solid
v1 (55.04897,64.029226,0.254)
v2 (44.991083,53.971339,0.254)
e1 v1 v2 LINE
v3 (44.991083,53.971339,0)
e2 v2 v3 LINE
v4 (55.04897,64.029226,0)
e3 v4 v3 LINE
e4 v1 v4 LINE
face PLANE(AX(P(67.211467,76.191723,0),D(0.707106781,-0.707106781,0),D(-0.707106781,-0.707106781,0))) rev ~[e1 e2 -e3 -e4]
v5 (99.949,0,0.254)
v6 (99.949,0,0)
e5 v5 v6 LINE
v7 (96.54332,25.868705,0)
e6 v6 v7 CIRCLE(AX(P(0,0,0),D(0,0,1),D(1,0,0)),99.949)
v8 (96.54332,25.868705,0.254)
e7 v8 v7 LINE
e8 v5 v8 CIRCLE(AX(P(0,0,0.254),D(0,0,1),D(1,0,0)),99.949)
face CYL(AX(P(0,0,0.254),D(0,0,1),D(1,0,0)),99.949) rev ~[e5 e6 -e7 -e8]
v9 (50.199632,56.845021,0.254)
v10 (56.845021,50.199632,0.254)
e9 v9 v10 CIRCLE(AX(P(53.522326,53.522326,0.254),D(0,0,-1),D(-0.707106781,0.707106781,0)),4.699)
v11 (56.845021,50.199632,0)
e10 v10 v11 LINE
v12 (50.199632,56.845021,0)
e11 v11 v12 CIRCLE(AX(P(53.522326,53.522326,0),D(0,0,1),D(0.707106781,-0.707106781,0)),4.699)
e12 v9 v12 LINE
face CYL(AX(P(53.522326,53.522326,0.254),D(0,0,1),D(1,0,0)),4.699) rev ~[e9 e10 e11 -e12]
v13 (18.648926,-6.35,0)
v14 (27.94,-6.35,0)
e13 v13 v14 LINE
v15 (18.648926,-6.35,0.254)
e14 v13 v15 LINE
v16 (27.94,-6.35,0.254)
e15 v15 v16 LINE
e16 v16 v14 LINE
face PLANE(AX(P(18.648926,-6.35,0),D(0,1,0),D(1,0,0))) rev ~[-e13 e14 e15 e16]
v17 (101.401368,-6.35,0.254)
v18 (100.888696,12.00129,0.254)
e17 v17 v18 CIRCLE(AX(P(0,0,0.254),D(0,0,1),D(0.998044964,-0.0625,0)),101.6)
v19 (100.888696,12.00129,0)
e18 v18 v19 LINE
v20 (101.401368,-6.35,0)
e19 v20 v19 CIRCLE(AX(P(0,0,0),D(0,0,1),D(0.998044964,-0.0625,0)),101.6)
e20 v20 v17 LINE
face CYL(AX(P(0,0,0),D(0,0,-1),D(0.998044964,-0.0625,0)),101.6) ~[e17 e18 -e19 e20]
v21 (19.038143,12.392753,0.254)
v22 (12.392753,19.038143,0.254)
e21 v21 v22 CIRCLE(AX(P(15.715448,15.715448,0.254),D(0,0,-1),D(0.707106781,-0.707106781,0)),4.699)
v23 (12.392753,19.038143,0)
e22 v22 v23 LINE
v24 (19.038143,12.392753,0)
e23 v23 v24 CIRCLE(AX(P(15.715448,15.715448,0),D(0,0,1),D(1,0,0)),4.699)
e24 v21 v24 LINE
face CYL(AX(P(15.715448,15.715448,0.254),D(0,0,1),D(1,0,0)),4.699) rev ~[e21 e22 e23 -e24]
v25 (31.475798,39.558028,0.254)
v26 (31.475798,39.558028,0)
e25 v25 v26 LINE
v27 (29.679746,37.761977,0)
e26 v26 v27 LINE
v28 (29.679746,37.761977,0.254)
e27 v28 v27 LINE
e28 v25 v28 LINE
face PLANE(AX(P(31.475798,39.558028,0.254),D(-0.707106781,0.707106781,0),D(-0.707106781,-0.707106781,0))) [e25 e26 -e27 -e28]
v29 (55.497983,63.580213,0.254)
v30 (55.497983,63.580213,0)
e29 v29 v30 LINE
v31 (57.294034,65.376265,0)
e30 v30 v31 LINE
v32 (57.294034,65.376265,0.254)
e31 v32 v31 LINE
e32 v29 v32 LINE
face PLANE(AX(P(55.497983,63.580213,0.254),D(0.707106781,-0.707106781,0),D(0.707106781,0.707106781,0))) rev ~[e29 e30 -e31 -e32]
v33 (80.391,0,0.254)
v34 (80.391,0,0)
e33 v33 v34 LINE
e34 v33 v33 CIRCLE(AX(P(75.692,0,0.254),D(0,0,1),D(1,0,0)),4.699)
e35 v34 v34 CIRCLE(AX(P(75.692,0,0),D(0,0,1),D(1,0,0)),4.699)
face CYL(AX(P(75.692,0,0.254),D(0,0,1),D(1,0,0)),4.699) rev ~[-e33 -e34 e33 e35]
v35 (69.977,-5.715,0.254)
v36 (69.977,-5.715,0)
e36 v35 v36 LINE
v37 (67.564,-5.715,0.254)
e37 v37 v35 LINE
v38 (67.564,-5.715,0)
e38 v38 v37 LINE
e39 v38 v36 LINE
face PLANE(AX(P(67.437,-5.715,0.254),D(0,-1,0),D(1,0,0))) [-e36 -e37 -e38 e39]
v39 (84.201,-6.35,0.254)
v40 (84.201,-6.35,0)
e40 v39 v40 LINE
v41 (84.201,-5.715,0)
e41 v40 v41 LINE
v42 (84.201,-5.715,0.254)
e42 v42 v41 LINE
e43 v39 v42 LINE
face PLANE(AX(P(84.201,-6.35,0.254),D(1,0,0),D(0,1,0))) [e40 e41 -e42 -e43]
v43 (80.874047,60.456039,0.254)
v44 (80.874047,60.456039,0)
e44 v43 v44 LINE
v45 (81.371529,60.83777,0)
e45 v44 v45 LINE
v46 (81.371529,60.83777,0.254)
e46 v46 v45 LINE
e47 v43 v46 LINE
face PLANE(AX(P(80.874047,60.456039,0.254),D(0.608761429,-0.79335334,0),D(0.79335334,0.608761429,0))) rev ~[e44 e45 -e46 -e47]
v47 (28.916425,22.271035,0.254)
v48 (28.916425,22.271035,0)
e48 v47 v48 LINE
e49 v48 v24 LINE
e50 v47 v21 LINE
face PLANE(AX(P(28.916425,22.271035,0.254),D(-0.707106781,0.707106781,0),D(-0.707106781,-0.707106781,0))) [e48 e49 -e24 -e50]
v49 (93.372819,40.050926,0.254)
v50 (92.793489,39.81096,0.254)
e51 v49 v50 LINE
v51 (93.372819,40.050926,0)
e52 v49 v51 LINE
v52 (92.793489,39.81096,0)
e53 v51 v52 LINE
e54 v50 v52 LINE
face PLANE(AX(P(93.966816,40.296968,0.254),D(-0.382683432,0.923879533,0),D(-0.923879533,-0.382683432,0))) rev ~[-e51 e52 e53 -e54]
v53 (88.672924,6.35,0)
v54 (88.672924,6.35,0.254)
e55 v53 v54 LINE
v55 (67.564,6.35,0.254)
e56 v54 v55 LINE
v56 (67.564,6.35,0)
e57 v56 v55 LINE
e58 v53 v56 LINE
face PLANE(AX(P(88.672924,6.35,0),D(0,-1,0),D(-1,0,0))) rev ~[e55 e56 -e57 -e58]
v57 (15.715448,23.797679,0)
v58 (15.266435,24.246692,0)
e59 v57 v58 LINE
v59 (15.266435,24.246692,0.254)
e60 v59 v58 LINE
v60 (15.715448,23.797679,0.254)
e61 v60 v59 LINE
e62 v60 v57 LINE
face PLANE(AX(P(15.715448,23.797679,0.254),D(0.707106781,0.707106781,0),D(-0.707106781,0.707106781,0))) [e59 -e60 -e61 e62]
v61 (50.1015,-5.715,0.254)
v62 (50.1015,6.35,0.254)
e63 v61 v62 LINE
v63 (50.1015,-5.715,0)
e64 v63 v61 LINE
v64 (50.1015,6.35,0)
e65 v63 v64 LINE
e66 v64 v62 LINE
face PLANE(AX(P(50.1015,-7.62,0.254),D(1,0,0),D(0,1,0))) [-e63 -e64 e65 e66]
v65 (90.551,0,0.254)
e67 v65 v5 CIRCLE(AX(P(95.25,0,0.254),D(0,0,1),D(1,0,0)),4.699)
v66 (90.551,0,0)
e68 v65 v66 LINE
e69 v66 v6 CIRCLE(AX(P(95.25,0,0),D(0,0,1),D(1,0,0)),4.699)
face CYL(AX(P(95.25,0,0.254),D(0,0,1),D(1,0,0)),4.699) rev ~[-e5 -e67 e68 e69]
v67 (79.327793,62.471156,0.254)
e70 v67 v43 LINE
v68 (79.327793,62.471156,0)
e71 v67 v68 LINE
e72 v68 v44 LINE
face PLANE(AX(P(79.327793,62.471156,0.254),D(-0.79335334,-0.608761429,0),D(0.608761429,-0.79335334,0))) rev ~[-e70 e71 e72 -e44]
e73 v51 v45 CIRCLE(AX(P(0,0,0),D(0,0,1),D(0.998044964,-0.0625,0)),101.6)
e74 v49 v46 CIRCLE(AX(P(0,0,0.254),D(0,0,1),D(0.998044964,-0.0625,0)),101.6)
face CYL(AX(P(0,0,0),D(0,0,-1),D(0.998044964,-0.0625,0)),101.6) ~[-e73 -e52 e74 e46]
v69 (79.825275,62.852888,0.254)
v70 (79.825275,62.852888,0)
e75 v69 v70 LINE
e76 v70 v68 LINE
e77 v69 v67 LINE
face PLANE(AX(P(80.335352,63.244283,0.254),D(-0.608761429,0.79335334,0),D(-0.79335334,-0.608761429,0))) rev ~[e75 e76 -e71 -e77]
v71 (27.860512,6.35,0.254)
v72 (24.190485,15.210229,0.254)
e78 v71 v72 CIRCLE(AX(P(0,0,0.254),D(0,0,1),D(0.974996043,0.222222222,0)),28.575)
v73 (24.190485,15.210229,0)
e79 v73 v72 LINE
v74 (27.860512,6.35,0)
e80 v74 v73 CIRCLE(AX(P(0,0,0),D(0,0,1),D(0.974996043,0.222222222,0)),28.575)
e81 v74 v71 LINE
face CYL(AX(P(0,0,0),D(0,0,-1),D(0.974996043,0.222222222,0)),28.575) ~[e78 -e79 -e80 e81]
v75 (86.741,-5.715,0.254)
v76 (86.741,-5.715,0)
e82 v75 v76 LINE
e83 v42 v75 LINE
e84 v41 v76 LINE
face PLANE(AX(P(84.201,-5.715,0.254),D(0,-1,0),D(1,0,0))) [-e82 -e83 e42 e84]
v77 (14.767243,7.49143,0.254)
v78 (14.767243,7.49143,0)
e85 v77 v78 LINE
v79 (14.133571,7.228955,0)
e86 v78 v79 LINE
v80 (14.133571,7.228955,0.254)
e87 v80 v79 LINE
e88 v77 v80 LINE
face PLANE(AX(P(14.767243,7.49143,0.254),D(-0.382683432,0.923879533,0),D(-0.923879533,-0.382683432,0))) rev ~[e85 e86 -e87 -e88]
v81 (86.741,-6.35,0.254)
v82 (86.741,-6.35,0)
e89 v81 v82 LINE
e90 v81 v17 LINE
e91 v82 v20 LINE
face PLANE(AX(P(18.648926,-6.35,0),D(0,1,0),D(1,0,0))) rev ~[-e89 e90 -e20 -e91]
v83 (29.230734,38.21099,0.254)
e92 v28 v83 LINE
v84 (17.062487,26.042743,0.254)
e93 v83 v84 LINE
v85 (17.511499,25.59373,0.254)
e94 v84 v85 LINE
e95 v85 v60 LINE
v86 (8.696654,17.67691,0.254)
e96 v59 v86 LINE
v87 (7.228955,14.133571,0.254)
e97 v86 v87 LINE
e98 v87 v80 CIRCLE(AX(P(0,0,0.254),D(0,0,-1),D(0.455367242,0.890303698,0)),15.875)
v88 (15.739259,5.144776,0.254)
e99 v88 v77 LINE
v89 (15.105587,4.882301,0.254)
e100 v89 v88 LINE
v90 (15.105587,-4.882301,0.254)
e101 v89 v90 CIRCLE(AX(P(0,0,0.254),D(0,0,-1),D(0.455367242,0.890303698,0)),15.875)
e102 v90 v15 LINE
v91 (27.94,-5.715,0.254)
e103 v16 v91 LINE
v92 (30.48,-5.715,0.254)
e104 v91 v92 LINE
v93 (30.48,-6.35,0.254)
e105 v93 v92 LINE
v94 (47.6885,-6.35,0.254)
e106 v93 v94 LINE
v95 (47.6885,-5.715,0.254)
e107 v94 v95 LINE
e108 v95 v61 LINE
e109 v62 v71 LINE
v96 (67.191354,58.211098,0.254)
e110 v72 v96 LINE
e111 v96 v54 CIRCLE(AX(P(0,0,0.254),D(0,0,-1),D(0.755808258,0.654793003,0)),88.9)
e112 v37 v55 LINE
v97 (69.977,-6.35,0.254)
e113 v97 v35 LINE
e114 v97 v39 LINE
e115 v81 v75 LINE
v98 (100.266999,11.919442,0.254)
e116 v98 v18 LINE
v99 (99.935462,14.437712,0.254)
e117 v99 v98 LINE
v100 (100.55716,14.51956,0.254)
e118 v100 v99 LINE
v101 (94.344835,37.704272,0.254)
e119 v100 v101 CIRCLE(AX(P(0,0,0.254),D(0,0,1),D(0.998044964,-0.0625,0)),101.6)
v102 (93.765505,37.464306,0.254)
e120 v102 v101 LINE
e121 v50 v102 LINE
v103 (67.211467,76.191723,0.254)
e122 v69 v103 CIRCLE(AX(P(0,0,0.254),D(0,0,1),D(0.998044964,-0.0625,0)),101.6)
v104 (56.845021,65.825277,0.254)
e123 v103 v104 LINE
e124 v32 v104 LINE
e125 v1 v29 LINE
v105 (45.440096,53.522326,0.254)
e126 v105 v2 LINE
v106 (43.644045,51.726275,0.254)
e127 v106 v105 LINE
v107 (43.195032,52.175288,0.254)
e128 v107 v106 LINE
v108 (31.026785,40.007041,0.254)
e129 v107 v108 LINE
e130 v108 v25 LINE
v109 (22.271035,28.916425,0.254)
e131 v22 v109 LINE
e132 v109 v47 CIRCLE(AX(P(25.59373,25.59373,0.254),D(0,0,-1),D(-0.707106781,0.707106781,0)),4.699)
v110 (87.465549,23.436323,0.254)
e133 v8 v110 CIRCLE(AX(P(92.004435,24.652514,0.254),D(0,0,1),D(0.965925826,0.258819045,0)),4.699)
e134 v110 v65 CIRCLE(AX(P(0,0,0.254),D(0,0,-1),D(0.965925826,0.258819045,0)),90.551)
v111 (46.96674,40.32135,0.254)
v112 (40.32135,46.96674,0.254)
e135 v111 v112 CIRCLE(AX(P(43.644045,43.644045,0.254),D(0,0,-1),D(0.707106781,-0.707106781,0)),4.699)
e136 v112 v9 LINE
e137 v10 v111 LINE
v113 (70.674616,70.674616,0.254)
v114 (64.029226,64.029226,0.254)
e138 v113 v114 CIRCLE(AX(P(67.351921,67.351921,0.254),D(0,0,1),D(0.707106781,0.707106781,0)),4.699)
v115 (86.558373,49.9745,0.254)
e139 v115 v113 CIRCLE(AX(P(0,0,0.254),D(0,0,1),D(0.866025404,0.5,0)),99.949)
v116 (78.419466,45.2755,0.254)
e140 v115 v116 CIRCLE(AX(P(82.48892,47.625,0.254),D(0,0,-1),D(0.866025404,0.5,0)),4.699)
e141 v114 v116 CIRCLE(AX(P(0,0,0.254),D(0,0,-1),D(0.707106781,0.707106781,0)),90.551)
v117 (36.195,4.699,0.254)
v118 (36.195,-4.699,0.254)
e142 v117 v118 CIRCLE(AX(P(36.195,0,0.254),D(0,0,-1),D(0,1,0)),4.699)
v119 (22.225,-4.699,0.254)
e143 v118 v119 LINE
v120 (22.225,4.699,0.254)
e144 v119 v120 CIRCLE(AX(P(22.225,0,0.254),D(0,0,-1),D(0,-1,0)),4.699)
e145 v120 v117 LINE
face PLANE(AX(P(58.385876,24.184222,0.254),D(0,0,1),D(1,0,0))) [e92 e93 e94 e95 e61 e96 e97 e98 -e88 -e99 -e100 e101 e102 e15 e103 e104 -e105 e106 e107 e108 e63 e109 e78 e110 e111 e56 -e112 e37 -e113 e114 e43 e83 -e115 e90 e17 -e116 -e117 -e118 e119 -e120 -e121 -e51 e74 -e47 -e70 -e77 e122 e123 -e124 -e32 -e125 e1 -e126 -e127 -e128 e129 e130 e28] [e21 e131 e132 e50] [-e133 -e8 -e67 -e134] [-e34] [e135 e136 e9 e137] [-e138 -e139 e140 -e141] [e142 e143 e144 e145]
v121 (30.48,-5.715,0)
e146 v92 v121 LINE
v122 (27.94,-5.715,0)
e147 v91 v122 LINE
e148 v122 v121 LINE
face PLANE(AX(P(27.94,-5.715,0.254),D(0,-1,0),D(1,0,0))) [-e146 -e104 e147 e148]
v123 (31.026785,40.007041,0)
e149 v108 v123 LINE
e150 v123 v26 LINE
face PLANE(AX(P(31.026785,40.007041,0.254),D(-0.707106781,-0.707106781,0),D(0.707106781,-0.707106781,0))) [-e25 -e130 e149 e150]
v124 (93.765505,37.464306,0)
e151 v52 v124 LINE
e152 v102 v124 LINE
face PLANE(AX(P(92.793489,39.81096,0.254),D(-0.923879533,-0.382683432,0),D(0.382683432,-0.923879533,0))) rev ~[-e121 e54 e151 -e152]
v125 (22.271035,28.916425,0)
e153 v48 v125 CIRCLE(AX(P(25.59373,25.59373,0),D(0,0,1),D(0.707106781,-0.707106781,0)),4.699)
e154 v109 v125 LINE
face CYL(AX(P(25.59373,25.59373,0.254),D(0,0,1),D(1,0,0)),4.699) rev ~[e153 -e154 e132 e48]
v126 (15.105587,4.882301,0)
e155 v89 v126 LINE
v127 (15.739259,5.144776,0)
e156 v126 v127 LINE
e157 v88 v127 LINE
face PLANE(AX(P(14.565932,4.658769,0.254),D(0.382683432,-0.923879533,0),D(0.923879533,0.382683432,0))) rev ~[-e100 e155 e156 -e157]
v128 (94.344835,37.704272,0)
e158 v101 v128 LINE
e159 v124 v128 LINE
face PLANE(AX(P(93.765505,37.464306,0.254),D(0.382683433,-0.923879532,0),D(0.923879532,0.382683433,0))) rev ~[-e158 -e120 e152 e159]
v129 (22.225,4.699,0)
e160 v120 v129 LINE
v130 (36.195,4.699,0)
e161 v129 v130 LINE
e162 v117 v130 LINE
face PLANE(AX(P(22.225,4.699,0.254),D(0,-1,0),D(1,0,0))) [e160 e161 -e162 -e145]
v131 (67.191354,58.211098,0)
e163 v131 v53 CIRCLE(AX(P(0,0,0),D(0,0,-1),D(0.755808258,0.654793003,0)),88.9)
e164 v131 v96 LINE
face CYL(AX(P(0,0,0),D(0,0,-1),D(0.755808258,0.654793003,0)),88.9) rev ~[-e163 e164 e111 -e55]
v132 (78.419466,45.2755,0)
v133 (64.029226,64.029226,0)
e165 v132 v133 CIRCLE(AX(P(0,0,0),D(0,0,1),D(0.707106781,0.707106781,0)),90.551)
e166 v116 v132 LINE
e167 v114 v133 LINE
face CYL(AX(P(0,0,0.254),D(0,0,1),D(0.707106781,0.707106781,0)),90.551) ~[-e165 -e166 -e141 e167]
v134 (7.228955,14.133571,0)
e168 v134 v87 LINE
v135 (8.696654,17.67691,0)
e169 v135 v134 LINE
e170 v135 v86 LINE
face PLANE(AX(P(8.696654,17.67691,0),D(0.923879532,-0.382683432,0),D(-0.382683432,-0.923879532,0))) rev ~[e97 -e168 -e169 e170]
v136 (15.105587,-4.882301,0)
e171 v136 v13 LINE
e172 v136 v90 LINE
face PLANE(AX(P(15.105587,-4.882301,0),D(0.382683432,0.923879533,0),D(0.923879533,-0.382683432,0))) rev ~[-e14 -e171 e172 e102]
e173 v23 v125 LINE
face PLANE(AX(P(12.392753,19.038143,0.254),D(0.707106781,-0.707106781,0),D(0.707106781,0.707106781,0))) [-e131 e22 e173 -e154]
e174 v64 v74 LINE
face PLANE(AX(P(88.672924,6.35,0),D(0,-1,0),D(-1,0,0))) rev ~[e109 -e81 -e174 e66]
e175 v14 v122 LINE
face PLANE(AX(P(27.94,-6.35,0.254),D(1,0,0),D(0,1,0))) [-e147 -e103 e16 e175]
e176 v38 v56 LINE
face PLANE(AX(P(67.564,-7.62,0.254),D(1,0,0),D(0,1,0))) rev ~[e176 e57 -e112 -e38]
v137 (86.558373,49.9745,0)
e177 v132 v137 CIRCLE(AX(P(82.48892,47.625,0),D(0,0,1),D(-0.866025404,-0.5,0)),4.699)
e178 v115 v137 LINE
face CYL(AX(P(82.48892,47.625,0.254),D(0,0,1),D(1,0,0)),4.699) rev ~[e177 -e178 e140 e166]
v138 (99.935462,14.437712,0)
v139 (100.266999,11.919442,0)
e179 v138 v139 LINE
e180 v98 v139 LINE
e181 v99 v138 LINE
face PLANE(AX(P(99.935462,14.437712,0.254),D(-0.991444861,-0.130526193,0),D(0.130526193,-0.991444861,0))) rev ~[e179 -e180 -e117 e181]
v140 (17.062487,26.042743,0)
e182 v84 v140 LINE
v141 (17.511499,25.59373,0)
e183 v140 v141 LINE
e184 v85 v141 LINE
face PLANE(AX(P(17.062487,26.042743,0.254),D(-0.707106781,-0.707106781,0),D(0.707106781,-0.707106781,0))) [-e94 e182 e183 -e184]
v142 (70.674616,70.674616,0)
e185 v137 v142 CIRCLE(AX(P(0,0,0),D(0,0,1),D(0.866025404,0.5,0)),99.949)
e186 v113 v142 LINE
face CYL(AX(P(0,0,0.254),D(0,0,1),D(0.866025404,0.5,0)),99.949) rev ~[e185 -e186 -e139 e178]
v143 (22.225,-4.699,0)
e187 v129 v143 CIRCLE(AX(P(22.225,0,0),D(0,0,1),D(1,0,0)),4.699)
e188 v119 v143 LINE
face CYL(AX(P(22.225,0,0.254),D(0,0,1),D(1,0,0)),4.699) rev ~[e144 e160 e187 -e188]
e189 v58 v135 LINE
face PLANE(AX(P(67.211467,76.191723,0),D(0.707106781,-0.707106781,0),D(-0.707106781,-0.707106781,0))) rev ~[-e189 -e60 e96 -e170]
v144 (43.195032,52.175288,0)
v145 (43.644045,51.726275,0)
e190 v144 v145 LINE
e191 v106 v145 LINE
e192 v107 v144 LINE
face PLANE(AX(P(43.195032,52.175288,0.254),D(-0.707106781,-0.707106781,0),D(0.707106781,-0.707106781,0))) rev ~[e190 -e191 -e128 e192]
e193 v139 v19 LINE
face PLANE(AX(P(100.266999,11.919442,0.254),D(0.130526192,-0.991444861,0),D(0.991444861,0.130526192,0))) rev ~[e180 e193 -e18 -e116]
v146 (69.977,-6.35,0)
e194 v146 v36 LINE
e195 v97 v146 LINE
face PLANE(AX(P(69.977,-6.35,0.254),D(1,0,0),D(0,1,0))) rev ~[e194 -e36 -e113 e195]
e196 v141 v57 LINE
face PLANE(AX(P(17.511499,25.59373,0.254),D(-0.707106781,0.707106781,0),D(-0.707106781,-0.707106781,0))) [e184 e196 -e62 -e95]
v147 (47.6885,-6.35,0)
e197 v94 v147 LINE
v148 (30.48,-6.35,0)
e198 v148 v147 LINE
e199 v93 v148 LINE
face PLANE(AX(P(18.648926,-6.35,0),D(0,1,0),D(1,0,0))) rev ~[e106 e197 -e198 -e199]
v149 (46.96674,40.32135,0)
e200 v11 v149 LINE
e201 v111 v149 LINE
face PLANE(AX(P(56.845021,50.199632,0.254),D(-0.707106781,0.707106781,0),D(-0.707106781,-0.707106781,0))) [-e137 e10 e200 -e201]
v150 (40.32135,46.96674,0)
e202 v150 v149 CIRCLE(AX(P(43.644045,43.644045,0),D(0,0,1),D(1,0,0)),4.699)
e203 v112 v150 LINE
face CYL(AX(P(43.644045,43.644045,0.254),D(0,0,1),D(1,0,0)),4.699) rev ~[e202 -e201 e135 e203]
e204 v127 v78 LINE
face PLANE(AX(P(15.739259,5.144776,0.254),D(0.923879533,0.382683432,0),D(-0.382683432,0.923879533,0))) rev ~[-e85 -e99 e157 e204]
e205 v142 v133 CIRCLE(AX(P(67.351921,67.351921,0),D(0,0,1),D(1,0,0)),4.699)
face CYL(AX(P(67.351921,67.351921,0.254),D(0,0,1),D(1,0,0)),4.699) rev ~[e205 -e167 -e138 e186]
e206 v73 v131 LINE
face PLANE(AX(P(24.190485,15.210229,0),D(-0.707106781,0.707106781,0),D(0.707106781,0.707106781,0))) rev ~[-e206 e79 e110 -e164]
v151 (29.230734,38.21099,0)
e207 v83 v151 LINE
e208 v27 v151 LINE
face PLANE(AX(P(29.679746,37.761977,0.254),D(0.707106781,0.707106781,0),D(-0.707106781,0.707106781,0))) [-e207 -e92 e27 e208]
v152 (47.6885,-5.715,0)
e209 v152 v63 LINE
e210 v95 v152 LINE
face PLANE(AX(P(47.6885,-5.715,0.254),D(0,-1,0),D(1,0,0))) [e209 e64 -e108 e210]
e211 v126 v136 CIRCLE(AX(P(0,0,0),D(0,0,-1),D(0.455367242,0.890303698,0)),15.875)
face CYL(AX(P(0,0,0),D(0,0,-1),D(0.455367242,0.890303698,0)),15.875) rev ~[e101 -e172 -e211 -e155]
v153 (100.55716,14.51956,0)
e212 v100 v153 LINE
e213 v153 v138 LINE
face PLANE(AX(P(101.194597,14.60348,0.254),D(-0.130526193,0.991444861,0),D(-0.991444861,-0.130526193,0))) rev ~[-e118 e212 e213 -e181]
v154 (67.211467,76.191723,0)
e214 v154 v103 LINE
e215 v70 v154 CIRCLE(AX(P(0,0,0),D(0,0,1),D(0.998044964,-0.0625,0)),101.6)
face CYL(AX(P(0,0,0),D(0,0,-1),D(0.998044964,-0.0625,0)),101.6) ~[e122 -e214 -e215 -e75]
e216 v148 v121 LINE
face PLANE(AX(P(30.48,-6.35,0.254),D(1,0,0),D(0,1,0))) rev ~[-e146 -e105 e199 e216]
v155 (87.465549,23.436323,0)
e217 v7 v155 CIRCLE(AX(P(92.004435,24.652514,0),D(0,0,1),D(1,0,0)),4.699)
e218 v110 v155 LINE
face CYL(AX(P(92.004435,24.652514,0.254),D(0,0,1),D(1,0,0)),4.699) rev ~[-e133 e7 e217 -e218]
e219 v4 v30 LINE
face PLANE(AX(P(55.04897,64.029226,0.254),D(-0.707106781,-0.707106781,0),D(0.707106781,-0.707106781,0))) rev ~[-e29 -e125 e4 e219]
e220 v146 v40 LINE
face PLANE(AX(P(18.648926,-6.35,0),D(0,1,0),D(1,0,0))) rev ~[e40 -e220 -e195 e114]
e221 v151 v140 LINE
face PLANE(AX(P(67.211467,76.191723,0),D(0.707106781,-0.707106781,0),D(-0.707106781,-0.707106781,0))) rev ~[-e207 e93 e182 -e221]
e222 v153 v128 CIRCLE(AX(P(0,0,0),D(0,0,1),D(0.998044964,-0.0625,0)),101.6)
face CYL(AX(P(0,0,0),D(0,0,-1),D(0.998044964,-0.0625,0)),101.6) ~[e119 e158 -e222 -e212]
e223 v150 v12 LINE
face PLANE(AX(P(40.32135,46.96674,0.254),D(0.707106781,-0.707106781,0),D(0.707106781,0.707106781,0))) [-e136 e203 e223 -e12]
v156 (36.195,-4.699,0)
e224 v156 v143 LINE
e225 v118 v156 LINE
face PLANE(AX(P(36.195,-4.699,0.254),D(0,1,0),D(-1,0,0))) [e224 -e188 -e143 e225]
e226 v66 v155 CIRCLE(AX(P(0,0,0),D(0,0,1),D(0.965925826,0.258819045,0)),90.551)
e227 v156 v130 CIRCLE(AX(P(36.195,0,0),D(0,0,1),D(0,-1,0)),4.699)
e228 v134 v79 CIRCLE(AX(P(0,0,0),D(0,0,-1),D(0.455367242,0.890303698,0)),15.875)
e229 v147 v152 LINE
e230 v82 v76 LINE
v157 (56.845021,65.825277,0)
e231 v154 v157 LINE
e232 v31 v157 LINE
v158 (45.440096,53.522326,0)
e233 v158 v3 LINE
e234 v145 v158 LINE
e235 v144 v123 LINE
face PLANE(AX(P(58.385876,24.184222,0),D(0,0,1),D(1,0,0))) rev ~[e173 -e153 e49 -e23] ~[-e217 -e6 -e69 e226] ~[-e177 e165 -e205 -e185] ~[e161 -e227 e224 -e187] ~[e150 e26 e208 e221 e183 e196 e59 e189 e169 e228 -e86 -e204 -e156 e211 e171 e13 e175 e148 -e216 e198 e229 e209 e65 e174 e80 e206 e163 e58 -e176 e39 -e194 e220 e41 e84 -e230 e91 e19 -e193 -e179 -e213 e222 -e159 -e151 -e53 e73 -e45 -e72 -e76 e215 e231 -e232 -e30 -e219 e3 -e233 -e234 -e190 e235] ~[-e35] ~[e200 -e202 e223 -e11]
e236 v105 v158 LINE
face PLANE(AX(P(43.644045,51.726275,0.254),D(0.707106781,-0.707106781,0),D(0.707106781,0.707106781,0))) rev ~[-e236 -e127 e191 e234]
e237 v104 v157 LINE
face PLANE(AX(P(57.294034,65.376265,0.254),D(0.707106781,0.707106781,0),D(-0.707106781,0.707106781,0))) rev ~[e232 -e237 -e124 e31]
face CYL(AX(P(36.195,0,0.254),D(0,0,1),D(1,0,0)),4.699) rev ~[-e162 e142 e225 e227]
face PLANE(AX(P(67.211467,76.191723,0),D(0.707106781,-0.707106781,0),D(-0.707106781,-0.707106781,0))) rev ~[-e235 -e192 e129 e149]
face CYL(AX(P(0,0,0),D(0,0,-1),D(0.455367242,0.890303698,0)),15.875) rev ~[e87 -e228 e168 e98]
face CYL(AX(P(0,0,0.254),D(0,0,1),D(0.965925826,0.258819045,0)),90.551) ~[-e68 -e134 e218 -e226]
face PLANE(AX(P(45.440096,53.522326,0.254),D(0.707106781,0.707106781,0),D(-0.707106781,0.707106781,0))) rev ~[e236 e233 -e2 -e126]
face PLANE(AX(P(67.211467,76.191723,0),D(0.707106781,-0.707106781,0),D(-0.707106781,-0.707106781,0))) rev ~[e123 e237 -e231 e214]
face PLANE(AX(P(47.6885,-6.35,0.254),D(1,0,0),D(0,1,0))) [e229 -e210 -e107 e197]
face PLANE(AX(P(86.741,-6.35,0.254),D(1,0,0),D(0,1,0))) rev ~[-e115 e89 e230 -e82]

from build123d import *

# Parameters (mm, degrees)
BOSS_EXTRUDE1_DEPTH = 0.254
SKETCH2_R           = 4.699
CUT_EXTRUDE1_DEPTH  = 1.254
SKETCH3_W           = 2.54
SKETCH3_H           = 0.635
CUT_EXTRUDE2_DEPTH  = 1.254
CUT_EXTRUDE4_DEPTH  = 1.254
SKETCH5_W           = 17.4625
SKETCH5_H           = 15.24
CUT_EXTRUDE5_DEPTH  = 1.254


with BuildPart() as part:
    # Sketch1 → Boss-Extrude1 (new body)
    with BuildSketch(Plane.XY):
        with BuildLine():
            Line((67.21146711, 76.191723231), (8.696654013, 17.676910134))
            Line((8.696654013, 17.676910134), (7.228954972, 14.133571205))
            ThreePointArc((7.228954972, 14.133571205), (14.666587579, 6.075099489), (15.105587123, -4.88230096))
            Line((15.105587123, -4.88230096), (18.648926052, -6.35))
            Line((18.648926052, -6.35), (101.401368334, -6.35))
            ThreePointArc((101.401368334, -6.35), (93.866160503, 38.880636728), (67.21146711, 76.191723231))
        make_face()
        with BuildLine():
            Line((88.672924278, 6.35), (27.86051193, 6.35))
            ThreePointArc((27.86051193, 6.35), (26.399857642, 10.93517908), (24.190484974, 15.210228852))
            Line((24.190484974, 15.210228852), (67.191354125, 58.211098004))
            ThreePointArc((67.191354125, 58.211098004), (82.13289044, 34.020557137), (88.672924278, 6.35))
        make_face(mode=Mode.SUBTRACT)
    extrude(amount=BOSS_EXTRUDE1_DEPTH)

    # Sketch2 → Cut-Extrude1 (cut, through all)
    with BuildSketch(Plane.XY.offset(0.254)):
        with Locations((22.225, 0)):
            Circle(SKETCH2_R)
        with Locations((36.195, 0)):
            Circle(SKETCH2_R)
        with Locations((61.722, 0)):
            Circle(SKETCH2_R)
        with Locations((75.692, 0)):
            Circle(SKETCH2_R)
        with Locations((95.25, 0)):
            Circle(SKETCH2_R)
        with Locations((15.715448212, 15.715448212)):
            Circle(SKETCH2_R)
        with Locations((25.593729945, 25.593729945)):
            Circle(SKETCH2_R)
        with Locations((43.644044748, 43.644044748)):
            Circle(SKETCH2_R)
        with Locations((53.522326482, 53.522326482)):
            Circle(SKETCH2_R)
        with Locations((92.004434954, 24.652514046)):
            Circle(SKETCH2_R)
        with Locations((82.48891971, 47.625)):
            Circle(SKETCH2_R)
        with Locations((67.351920908, 67.351920908)):
            Circle(SKETCH2_R)
    extrude(amount=-CUT_EXTRUDE1_DEPTH, mode=Mode.SUBTRACT)

    # Sketch3 → Cut-Extrude2 (cut, through all)
    with BuildSketch(Plane.XY.offset(0.254)):
        Polygon((15.266435406, 24.246691527), (17.06248663, 26.042742751), (17.511499436, 25.593729945), (15.715448212, 23.797678721), align=None)
        Polygon((44.991083167, 53.971339288), (43.195031942, 52.175288063), (43.644044748, 51.726275257), (45.440095973, 53.522326482), align=None)
        with Locations((29.21, -6.0325)):
            Rectangle(SKETCH3_W, SKETCH3_H)
        with Locations((68.707, -6.0325)):
            Rectangle(SKETCH3_W, SKETCH3_H)
        Polygon((29.230733674, 38.210989795), (31.026784898, 40.007041019), (31.475797704, 39.558028213), (29.67974648, 37.761976989), align=None)
        Polygon((56.845021246, 65.825277367), (55.048970022, 64.029226143), (55.497982828, 63.580213337), (57.294034052, 65.376264561), align=None)
        with Locations((48.9585, -6.0325)):
            Rectangle(SKETCH3_W, SKETCH3_H)
        with Locations((85.471, -6.0325)):
            Rectangle(SKETCH3_W, SKETCH3_H)
        Polygon((99.935462164, 14.437711971), (100.266998693, 11.919442024), (101.526133667, 12.085210288), (101.194597138, 14.603480236), align=None)
        Polygon((93.765504959, 37.464305742), (94.938831965, 37.950313702), (93.966816047, 40.296967714), (92.793489041, 39.810959755), align=None)
        Polygon((79.327792988, 62.471156422), (80.874047017, 60.456038938), (81.88160576, 61.229165953), (80.33535173, 63.244283437), align=None)
        Polygon((13.593916116, 7.005422516), (14.565932035, 4.658768503), (15.739259041, 5.144776462), (14.767243123, 7.491430475), align=None)
    extrude(amount=-CUT_EXTRUDE2_DEPTH, mode=Mode.SUBTRACT)

    # Sketch6 → Cut-Extrude4 (cut, through all)
    with BuildSketch(Plane.XY.offset(0.254)):
        with BuildLine():
            Line((12.392753447, 19.038142977), (22.27103518, 28.91642471))
            ThreePointArc((22.27103518, 28.91642471), (28.91642471, 28.91642471), (28.91642471, 22.27103518))
            Line((28.91642471, 22.27103518), (19.038142977, 12.392753447))
            ThreePointArc((19.038142977, 12.392753447), (12.392753447, 12.392753447), (12.392753447, 19.038142977))
        make_face()
        with BuildLine():
            Line((40.321349984, 46.966739513), (50.199631717, 56.845021246))
            ThreePointArc((50.199631717, 56.845021246), (56.845021246, 56.845021246), (56.845021246, 50.199631717))
            Line((56.845021246, 50.199631717), (46.966739513, 40.321349984))
            ThreePointArc((46.966739513, 40.321349984), (40.321349984, 40.321349984), (40.321349984, 46.966739513))
        make_face()
        with BuildLine():
            Line((22.225, 4.699), (36.195, 4.699))
            ThreePointArc((36.195, 4.699), (40.894, 0), (36.195, -4.699))
            Line((36.195, -4.699), (22.225, -4.699))
            ThreePointArc((22.225, -4.699), (17.526, 0), (22.225, 4.699))
        make_face()
        with BuildLine():
            ThreePointArc((99.949, 0), (99.093922449, 13.045962386), (96.543320412, 25.868704739))
            ThreePointArc((96.543320412, 25.868704739), (90.788244261, 29.191399504), (87.465549496, 23.436323353))
            ThreePointArc((87.465549496, 23.436323353), (89.776323642, 11.819277232), (90.551, 0))
            ThreePointArc((90.551, 0), (95.25, -4.699), (99.949, 0))
        make_face()
        with BuildLine():
            ThreePointArc((86.558373083, 49.9745), (79.294873009, 60.845096068), (70.674615673, 70.674615673))
            ThreePointArc((70.674615673, 70.674615673), (64.029226143, 70.674615673), (64.029226143, 64.029226143))
            ThreePointArc((64.029226143, 64.029226143), (71.838938317, 55.123956158), (78.419466338, 45.2755))
            ThreePointArc((78.419466338, 45.2755), (84.83841971, 43.555546628), (86.558373083, 49.9745))
        make_face()
    extrude(amount=-CUT_EXTRUDE4_DEPTH, mode=Mode.SUBTRACT)

    # Sketch5 → Cut-Extrude5 (cut, through all)
    with BuildSketch(Plane.XY.offset(0.254)):
        with Locations((58.83275, 0)):
            Rectangle(SKETCH5_W, SKETCH5_H)
    extrude(amount=-CUT_EXTRUDE5_DEPTH, mode=Mode.SUBTRACT)


solid = part.part
